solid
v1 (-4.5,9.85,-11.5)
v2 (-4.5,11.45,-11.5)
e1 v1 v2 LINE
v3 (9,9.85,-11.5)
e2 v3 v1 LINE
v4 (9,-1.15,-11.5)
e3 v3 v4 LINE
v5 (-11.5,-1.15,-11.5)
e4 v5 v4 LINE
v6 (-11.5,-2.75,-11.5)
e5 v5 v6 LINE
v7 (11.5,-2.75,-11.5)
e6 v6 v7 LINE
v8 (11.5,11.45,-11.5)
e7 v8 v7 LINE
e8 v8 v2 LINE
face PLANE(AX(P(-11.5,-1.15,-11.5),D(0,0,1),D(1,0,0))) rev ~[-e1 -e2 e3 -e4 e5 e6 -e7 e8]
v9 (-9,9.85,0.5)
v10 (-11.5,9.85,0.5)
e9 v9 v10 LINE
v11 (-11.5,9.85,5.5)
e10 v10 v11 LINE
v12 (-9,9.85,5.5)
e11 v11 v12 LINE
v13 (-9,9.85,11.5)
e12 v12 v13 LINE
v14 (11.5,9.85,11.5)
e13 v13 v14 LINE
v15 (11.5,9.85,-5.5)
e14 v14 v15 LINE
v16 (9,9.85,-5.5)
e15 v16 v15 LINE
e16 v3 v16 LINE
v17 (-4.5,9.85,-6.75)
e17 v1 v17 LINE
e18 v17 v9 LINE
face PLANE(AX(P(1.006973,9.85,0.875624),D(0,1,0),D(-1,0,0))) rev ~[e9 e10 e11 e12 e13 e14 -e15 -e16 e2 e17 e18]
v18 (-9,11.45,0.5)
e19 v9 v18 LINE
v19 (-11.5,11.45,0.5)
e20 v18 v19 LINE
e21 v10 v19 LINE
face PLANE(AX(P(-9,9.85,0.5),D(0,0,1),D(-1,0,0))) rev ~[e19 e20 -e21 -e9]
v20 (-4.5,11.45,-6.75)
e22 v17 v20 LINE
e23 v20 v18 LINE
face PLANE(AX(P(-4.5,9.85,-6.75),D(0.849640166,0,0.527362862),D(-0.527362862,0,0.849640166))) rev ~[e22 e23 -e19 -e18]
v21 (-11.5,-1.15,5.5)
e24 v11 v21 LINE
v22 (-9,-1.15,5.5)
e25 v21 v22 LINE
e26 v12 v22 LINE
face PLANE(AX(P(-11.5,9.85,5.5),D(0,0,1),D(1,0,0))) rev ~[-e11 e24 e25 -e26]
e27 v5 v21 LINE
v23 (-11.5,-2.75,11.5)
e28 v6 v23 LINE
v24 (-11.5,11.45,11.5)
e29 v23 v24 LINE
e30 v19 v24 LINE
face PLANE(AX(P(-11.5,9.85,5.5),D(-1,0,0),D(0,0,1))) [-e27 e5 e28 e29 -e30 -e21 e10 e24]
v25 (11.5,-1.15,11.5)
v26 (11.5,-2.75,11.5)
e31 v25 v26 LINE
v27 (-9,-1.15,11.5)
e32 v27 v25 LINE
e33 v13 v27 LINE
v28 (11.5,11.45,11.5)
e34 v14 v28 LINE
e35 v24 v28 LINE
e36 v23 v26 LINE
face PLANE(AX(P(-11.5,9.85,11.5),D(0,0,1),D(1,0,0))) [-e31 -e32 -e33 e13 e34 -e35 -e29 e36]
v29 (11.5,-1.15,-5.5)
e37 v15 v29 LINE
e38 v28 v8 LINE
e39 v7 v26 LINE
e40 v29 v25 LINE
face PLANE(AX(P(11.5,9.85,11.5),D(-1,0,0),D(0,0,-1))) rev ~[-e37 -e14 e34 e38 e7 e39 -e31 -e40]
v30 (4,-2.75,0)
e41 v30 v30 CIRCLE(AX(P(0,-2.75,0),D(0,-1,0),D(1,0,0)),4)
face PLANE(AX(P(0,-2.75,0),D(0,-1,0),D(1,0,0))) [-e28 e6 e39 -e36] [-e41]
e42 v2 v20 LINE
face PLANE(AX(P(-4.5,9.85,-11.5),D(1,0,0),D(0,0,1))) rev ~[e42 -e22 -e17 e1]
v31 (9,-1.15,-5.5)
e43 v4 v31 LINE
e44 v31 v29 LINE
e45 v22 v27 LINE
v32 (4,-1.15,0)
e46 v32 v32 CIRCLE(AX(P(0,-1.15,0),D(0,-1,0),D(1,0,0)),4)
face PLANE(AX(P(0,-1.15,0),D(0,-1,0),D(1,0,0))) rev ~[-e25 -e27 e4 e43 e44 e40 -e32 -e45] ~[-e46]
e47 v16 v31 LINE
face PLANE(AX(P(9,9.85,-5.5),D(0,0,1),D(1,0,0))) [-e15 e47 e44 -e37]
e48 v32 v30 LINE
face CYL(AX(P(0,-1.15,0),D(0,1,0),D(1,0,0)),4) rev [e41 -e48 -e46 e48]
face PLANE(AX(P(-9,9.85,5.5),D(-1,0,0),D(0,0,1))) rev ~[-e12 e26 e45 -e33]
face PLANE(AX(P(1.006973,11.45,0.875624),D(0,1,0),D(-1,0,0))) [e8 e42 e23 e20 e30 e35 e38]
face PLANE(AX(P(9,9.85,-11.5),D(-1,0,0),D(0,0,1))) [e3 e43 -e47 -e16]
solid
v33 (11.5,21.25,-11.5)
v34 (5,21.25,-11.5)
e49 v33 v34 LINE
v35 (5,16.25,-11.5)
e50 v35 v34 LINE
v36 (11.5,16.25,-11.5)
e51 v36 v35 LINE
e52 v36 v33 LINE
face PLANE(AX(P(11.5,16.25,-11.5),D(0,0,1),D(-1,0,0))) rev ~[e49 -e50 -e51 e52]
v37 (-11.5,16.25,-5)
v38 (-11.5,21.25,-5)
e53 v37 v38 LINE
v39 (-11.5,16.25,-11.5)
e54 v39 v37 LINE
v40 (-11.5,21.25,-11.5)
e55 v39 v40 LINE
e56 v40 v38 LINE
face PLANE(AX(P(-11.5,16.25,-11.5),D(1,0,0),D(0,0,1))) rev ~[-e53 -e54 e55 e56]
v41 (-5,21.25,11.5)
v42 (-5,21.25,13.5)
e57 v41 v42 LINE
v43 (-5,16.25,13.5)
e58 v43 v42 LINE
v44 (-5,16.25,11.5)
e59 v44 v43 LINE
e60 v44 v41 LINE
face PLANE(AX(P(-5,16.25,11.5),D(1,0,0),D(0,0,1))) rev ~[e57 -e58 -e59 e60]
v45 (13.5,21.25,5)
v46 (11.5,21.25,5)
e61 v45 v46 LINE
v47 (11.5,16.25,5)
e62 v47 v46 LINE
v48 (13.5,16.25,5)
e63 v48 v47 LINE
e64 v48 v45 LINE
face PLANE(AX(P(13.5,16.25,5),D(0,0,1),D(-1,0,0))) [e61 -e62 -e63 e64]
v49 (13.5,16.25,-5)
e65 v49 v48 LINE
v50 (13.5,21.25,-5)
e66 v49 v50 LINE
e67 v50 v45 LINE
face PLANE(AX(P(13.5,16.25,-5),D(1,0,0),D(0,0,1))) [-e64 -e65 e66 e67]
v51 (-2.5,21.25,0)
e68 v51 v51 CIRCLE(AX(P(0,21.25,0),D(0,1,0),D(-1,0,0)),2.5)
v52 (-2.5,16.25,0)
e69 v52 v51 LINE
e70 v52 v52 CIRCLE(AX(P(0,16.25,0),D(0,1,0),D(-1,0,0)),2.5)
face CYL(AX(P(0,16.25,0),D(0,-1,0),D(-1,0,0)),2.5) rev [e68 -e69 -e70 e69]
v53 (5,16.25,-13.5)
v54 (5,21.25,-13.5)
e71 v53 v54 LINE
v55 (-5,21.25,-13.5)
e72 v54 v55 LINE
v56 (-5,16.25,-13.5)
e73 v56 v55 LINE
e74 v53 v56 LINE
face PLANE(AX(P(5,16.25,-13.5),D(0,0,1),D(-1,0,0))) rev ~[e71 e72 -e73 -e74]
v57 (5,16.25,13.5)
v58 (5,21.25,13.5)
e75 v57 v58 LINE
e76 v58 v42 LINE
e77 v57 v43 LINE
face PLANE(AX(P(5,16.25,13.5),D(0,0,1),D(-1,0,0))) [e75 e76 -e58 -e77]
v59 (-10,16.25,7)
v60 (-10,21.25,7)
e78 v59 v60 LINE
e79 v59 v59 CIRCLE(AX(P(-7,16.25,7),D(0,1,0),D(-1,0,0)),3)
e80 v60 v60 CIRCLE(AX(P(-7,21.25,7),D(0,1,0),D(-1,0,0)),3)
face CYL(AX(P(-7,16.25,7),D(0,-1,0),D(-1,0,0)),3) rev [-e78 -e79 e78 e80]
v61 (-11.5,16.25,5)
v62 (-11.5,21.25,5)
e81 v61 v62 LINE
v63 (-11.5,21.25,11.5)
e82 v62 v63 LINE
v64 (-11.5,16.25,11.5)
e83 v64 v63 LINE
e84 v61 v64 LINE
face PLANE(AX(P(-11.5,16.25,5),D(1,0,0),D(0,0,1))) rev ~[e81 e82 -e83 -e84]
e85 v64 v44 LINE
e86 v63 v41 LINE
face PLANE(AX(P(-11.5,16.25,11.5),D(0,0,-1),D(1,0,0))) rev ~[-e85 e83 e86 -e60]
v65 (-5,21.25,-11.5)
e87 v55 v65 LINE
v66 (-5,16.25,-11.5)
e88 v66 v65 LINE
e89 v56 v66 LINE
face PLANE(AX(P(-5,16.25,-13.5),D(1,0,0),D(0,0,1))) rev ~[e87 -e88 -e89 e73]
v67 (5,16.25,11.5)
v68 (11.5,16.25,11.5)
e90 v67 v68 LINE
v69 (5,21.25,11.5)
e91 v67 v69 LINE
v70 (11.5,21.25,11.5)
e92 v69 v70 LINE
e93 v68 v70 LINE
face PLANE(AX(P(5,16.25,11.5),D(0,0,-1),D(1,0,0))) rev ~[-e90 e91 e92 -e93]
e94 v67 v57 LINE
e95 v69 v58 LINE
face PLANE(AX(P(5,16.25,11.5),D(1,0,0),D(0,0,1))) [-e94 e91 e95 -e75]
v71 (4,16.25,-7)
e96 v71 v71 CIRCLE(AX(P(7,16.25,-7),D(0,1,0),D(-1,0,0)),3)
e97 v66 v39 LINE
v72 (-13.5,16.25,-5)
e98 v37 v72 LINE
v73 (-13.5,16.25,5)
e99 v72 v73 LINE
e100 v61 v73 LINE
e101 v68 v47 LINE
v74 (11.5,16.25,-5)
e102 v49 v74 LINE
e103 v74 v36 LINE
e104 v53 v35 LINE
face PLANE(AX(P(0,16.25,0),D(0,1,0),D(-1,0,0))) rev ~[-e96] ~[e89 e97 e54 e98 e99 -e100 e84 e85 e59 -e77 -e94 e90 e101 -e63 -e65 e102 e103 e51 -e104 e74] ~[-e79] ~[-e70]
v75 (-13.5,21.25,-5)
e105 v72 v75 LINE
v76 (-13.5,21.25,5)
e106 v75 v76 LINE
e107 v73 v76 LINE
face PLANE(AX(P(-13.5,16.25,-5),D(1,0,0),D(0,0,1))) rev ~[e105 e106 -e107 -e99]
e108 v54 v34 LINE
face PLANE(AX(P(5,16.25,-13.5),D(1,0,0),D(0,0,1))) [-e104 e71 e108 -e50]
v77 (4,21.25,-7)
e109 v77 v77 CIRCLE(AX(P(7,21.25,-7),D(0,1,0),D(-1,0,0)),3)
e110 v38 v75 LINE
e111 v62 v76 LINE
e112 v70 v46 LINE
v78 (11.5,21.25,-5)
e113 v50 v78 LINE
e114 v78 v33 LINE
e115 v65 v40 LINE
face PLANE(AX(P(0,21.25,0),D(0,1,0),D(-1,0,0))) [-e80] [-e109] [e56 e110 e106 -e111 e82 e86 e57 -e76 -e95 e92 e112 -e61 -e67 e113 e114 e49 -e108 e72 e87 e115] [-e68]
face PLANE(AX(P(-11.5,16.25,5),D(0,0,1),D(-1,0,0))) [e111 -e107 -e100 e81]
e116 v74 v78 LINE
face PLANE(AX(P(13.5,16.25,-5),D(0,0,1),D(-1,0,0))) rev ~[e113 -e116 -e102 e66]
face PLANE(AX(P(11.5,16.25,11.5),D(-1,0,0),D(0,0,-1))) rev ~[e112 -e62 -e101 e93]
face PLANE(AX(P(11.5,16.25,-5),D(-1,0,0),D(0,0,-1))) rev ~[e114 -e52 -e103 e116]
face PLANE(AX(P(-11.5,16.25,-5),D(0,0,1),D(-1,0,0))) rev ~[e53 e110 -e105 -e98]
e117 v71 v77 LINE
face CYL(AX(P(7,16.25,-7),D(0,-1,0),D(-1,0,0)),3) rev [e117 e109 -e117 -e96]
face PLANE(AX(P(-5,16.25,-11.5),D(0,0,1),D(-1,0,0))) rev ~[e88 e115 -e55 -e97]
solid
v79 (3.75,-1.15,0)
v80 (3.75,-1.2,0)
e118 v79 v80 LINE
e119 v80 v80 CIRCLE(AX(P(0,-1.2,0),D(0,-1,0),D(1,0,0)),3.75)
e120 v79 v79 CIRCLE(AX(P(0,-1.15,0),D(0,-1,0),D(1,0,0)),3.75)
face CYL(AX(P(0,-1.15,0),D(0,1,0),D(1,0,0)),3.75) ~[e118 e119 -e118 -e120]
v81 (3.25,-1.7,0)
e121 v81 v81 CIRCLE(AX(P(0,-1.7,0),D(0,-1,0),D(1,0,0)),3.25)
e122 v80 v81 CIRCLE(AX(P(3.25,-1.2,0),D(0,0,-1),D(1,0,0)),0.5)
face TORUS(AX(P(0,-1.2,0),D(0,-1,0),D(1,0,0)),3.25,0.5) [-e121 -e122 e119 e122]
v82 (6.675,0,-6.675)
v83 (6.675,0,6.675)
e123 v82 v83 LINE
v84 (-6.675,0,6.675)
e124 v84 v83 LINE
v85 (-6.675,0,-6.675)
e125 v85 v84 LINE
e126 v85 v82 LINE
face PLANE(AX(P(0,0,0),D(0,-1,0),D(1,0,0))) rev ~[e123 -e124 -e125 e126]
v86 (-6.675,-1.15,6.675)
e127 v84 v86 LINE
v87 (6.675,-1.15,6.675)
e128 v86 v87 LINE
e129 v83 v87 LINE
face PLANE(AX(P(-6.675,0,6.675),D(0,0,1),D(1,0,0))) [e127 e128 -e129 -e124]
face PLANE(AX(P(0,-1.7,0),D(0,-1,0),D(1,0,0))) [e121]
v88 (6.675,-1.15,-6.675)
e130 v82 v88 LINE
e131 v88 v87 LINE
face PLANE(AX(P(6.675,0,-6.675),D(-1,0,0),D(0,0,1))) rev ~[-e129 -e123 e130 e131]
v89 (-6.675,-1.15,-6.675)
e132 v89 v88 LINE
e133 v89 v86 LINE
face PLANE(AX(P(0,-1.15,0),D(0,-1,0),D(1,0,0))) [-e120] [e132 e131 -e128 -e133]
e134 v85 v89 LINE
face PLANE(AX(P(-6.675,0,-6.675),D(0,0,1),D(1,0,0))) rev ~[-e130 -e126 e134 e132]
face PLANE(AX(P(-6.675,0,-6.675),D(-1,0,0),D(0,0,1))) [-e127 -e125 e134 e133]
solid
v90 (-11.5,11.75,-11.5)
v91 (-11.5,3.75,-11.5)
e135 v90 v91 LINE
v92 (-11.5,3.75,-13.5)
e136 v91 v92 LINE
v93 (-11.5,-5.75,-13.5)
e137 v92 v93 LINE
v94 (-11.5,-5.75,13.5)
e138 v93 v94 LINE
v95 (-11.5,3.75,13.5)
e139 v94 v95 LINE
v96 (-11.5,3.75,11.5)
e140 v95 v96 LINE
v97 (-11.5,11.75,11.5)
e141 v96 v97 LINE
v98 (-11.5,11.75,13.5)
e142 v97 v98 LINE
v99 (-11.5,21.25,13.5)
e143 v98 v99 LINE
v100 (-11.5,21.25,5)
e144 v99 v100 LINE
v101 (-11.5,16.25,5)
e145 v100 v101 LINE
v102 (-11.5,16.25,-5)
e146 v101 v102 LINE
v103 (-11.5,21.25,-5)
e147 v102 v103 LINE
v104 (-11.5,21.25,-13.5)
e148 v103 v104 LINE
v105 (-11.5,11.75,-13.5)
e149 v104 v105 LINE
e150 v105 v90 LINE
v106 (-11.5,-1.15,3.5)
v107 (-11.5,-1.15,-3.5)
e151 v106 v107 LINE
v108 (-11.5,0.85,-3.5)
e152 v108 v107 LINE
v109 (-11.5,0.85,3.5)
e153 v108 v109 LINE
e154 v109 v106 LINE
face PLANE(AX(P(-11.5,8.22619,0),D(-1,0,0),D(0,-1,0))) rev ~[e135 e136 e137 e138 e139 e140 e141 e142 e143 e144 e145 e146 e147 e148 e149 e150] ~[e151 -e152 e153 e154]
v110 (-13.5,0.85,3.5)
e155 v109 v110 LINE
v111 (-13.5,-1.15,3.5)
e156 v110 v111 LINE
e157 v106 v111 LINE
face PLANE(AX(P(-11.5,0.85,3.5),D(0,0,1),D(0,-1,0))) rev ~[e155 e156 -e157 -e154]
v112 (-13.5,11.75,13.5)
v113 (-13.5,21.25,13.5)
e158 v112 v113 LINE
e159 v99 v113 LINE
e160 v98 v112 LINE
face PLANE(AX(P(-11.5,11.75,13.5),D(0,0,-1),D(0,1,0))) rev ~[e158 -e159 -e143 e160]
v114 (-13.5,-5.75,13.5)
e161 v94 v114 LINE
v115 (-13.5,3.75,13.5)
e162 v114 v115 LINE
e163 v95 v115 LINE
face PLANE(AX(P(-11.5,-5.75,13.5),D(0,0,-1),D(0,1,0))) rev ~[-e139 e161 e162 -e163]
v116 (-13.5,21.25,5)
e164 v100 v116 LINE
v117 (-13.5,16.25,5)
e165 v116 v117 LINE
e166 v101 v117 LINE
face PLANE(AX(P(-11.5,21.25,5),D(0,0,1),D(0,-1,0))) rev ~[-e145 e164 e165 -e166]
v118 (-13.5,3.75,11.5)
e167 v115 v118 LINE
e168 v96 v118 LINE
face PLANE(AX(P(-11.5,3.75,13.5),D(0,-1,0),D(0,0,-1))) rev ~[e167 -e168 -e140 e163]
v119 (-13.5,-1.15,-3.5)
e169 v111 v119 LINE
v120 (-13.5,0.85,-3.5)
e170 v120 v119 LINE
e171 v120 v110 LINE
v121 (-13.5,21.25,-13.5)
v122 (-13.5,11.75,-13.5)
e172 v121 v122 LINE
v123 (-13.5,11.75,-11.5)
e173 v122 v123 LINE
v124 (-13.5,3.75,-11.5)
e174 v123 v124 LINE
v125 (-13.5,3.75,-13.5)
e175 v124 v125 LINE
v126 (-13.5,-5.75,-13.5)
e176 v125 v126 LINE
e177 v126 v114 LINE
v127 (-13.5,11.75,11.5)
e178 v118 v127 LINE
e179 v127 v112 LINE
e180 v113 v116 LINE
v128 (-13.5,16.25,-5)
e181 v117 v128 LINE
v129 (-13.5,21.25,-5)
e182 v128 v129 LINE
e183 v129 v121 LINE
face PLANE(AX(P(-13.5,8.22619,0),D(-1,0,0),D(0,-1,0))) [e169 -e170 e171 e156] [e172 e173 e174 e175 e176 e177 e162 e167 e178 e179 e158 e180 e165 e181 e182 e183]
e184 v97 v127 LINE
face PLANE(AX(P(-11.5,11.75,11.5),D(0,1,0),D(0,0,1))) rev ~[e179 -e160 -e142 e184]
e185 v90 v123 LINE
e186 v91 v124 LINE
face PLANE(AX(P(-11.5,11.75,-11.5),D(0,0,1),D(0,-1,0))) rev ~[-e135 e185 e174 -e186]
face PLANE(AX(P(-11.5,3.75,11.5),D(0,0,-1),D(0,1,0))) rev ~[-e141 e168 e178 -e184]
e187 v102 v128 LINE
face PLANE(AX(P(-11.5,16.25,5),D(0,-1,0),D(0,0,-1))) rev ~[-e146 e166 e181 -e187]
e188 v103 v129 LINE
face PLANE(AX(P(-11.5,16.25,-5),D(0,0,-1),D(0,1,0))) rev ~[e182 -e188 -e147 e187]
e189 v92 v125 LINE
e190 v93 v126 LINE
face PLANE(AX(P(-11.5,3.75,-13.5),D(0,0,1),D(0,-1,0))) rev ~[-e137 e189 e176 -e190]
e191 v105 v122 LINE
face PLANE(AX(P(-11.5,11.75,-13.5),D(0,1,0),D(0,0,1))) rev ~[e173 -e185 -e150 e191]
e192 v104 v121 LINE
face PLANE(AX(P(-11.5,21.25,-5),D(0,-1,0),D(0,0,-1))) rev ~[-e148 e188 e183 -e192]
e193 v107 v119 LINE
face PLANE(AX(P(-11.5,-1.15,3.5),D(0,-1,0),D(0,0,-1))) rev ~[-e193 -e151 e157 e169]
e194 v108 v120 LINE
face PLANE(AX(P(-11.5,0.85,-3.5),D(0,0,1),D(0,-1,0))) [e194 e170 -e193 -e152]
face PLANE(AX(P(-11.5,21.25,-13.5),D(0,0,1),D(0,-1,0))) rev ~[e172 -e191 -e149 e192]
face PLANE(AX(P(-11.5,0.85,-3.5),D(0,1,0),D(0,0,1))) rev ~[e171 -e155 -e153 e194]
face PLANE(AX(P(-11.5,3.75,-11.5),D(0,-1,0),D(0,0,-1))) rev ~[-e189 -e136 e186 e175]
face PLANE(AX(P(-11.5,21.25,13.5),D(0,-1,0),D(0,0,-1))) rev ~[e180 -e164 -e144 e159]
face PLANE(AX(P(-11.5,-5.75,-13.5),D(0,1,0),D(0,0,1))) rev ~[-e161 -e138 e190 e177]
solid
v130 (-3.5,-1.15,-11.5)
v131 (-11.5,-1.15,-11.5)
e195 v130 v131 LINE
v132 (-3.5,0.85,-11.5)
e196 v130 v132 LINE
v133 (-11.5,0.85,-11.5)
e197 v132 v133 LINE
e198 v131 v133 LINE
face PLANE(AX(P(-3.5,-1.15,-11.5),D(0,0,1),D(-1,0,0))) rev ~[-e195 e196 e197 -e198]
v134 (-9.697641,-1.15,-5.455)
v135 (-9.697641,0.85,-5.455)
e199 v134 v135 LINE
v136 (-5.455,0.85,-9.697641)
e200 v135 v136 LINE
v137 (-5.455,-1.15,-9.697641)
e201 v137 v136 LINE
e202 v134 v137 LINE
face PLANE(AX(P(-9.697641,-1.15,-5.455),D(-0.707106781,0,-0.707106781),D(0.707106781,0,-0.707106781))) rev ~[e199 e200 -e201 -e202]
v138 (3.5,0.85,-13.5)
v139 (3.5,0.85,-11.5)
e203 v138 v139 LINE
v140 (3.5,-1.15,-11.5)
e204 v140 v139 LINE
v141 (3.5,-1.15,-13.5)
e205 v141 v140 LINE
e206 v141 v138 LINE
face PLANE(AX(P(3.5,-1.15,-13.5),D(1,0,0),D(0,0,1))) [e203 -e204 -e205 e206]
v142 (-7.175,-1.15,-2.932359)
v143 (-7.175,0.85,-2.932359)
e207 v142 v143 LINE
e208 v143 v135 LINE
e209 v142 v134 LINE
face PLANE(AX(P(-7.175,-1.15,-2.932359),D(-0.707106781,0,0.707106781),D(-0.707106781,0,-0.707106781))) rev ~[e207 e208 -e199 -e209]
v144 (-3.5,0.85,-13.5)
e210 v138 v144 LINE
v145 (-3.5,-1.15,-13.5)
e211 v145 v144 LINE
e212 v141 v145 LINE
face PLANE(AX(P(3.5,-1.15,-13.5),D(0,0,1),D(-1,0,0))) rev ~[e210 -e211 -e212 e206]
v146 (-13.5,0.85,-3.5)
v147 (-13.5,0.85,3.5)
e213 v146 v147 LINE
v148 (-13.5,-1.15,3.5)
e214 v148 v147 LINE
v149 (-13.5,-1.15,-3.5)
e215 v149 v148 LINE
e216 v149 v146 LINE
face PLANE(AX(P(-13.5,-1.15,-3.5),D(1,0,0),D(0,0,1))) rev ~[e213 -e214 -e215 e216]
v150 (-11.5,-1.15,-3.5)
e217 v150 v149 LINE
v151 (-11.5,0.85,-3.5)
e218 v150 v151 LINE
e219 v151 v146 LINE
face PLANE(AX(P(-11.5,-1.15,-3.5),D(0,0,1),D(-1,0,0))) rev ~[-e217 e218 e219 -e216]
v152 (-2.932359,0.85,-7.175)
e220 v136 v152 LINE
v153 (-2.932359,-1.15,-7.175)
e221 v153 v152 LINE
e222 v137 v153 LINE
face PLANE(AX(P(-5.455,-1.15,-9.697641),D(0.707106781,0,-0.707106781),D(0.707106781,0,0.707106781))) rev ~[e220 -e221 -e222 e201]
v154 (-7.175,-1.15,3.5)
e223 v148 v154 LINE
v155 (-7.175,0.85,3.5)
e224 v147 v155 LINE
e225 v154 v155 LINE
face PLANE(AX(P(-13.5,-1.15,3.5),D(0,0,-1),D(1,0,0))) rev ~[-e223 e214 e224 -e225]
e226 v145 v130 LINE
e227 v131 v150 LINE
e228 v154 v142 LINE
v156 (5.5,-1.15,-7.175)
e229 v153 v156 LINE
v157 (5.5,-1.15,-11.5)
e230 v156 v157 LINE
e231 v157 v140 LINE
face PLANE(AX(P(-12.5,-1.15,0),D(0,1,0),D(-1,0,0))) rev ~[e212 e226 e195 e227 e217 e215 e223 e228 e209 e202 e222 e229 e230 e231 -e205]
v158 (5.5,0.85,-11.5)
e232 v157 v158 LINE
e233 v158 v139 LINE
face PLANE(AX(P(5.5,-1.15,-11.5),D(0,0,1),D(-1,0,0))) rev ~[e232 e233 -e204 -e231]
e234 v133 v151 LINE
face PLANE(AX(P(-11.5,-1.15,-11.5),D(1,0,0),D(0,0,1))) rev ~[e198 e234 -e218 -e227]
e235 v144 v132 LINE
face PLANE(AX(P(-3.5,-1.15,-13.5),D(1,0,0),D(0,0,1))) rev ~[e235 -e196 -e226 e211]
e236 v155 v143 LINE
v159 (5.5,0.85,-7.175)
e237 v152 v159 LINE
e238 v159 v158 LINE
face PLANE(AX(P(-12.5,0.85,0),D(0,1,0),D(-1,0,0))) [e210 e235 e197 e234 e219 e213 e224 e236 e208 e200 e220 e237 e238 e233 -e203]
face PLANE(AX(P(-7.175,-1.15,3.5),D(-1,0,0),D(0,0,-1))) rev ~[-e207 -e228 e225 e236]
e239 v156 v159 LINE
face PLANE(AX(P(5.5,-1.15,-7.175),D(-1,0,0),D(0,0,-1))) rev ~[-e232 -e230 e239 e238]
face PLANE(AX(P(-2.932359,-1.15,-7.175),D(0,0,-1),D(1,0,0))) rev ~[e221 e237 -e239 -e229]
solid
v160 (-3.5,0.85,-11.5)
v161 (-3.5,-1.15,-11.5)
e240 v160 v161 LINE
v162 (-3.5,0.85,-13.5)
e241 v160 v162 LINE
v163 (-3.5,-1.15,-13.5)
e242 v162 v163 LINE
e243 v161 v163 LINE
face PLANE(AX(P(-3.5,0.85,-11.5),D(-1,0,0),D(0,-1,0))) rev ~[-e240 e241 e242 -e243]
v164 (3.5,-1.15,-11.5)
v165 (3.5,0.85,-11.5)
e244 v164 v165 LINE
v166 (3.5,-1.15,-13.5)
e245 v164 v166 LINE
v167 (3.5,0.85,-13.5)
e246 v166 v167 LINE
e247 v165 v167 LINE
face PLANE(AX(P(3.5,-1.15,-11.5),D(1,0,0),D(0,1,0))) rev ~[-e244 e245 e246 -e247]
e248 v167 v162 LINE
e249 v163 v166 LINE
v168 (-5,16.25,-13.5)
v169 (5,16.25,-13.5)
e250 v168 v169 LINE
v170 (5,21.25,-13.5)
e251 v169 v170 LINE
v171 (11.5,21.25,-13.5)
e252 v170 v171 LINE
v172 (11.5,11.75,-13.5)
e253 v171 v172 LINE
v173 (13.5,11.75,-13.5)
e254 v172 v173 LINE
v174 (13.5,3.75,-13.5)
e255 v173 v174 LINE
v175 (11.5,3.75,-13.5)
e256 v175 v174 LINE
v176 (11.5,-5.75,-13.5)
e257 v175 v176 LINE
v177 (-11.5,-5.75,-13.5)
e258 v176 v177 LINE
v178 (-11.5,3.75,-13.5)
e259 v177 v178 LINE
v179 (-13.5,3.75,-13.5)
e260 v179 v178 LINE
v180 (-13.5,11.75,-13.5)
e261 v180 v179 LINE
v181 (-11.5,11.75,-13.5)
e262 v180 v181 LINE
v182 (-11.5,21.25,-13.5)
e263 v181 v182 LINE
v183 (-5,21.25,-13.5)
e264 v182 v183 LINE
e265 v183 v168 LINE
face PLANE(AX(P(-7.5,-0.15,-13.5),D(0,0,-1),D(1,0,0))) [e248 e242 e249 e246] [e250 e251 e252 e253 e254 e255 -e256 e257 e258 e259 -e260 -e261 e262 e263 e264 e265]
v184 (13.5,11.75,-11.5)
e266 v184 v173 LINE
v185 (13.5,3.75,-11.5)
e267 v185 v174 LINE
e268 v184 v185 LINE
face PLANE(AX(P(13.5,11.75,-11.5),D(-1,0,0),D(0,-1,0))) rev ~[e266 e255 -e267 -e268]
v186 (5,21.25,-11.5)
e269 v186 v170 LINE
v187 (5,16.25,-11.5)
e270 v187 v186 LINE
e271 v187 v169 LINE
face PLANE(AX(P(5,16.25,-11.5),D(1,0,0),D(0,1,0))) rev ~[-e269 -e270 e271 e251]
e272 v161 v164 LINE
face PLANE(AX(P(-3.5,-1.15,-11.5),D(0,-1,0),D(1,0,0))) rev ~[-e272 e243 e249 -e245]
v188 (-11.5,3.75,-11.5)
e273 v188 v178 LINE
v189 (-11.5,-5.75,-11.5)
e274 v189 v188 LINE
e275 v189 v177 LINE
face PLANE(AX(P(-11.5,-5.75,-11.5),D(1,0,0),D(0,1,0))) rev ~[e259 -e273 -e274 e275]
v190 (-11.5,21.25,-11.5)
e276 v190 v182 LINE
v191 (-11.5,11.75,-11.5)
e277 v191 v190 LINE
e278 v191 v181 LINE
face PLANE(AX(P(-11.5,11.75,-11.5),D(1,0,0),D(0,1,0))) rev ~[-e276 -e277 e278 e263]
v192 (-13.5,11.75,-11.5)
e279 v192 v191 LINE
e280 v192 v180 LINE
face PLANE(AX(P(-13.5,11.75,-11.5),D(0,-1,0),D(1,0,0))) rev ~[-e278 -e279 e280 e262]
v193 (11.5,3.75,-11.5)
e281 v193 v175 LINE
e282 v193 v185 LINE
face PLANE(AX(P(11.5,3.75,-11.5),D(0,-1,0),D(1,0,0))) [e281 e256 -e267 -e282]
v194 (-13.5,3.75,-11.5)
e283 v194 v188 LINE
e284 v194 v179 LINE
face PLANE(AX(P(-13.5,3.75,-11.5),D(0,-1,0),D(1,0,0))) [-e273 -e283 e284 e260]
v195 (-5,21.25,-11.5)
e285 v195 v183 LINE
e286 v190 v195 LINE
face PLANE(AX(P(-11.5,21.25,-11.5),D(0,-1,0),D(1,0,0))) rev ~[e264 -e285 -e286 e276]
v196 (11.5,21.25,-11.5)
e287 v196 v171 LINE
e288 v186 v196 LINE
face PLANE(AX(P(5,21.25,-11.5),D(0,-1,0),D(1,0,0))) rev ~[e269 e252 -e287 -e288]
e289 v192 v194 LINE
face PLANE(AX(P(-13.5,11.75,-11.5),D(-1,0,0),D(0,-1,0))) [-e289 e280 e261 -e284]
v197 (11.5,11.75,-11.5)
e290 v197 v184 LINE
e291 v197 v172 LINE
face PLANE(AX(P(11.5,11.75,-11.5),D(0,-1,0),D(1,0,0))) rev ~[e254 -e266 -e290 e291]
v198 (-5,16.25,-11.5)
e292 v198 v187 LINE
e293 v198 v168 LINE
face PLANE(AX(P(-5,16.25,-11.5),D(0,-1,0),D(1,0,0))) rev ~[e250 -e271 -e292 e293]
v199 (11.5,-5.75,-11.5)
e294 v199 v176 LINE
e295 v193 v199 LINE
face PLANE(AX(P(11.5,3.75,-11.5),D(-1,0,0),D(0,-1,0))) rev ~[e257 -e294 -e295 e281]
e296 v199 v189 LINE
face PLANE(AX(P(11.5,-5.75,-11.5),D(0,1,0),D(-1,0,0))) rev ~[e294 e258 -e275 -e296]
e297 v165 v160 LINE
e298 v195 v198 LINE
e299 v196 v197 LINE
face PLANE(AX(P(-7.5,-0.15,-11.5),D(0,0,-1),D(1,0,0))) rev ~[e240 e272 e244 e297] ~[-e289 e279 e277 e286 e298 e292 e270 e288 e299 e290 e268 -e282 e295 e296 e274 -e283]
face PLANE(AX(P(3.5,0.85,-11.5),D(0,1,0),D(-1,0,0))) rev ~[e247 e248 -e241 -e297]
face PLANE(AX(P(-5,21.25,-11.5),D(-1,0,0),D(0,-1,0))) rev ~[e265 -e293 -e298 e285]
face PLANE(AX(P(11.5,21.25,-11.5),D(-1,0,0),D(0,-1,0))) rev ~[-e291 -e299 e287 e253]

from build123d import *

# Parameters (mm, degrees)
F0_W      = 13.35
F0_H      = 13.35
F1_DEPTH  = 1.15
F2_R      = 3.75
F3_DEPTH  = 0.55
F4_R      = 0.5
F5_W      = 23
F5_H      = 23
F5_R      = 4
F6_DEPTH  = 1.6
F9_DEPTH  = 1.6
F10_W     = 2.5
F10_H     = 6
F11_DEPTH = 11
F12_W     = 2
F12_H     = 7
F12_W_2   = 7
F12_H_2   = 2
F13_DEPTH = 2
F14_W     = 8
F14_H     = 2
F14_W_2   = 2
F14_H_2   = 8
F15_DEPTH = 2
F16_W     = 2
F16_H     = 8
F17_DEPTH = 2
F18_R     = 3
F18_R_2   = 2.5
F18_W     = 2
F18_H     = 10
F18_W_2   = 10
F18_H_2   = 2
F19_DEPTH = 5


with BuildPart() as f1:
    # F0 (on Front) → F1 (new body)
    with BuildSketch(Plane.XZ):
        Rectangle(F0_W, F0_H)
    extrude(amount=F1_DEPTH)

    # F2 (on face) → F3 (join)
    with BuildSketch(Plane.XZ.offset(1.15)):
        Circle(F2_R)
    extrude(amount=F3_DEPTH)

    # F4
    f4_edges = [f1.edges().sort_by_distance(p)[0] for p in [
        (-3.75, -1.7, 0),
    ]]
    fillet(f4_edges, radius=F4_R)


with BuildPart() as f6:
    # F5 (on face) → F6 (new body)
    with BuildSketch(Plane.XZ.offset(1.15)):
        Rectangle(F5_W, F5_H)
        Circle(F5_R, mode=Mode.SUBTRACT)
    extrude(amount=F6_DEPTH)



with BuildPart() as f9:
    # F8 (on offset) → F9 (new body)
    with BuildSketch(Plane(origin=(0, 9.85, 0), x_dir=(-1, 0, 0), z_dir=(0, 1, 0))):
        Polygon((11.5, 0.5), (11.5, 11.5), (-11.5, 11.5), (-11.5, -11.5), (4.5, -11.5), (4.5, -6.75), (9, 0.5), align=None)
    extrude(amount=F9_DEPTH)


with BuildPart() as f6_1:
    add(f6.part)

    add(f9.part)  # F11 merges F9
    # F10 (on face) → F11 (join, through all)
    with BuildSketch(Plane.XZ.offset(-9.85)):
        with Locations((-10.25, 8.5)):
            Rectangle(F10_W, F10_H)
        with Locations((10.25, -8.5)):
            Rectangle(F10_W, F10_H)
    extrude(amount=F11_DEPTH)


with BuildPart() as f13:
    # F12 (on face) → F13 (new body)
    with BuildSketch(Plane(origin=(0, -1.15, 0), x_dir=(-1, 0, 0), z_dir=(0, 1, 0))):
        with Locations((12.5, 0)):
            Rectangle(F12_W, F12_H)
        Polygon((11.5, -11.5), (11.5, -3.5), (11.5, 3.5), (7.175, 3.5), (7.175, -2.9323593129), (9.6976406871, -5.455), (5.455, -9.6976406871), (2.9323593129, -7.175), (-5.5, -7.175), (-5.5, -11.5), (-3.5, -11.5), (3.5, -11.5), align=None)
        with Locations((0, -12.5)):
            Rectangle(F12_W_2, F12_H_2)
    extrude(amount=F13_DEPTH)


with BuildPart() as f15:
    # F14 (on face) → F15 (new body)
    with BuildSketch(Plane(origin=(0, 0, -11.5), x_dir=(1, 0, 0), z_dir=(0, 0, -1))):
        with Locations((-7.5, 0.15)):
            Rectangle(F14_W, F14_H)
        Polygon((11.5, 5.75), (-11.5, 5.75), (-11.5, 1.15), (-3.5, 1.15), (3.5, 1.15), (3.5, -0.85), (-3.5, -0.85), (-11.5, -0.85), (-11.5, -3.75), (-11.5, -11.75), (-11.5, -21.25), (-5, -21.25), (-5, -16.25), (5, -16.25), (5, -21.25), (11.5, -21.25), (11.5, -11.75), (11.5, -3.75), align=None)
        with Locations((-12.5, -7.75)):
            Rectangle(F14_W_2, F14_H_2)
        with Locations((12.5, -7.75)):
            Rectangle(F14_W_2, F14_H_2)
    extrude(amount=F15_DEPTH)


with BuildPart() as f17:
    # F16 (on face) → F17 (new body)
    with BuildSketch(Plane(origin=(-11.5, 0, 0), x_dir=(0, -1, 0), z_dir=(-1, 0, 0))):
        Polygon((-3.75, -13.5), (5.75, -13.5), (5.75, 13.5), (-3.75, 13.5), (-3.75, 11.5), (-11.75, 11.5), (-11.75, 13.5), (-21.25, 13.5), (-21.25, 5), (-16.25, 5), (-16.25, -5), (-21.25, -5), (-21.25, -13.5), (-11.75, -13.5), (-11.75, -11.5), (-3.75, -11.5), align=None)
        Polygon((1.15, 3.5), (1.15, -3.5), (1.15, -11.5), (-0.85, -11.5), (-0.85, -3.5), (-0.85, 3.5), align=None, mode=Mode.SUBTRACT)
        with Locations((0.15, -7.5)):
            Rectangle(F16_W, F16_H)
    extrude(amount=F17_DEPTH)


with BuildPart() as f19:
    # F18 (on face) → F19 (new body)
    with BuildSketch(Plane(origin=(0, 16.25, 0), x_dir=(-1, 0, 0), z_dir=(0, 1, 0))):
        Polygon((-5, 11.5), (-11.5, 11.5), (-11.5, 5), (-11.5, -5), (-11.5, -11.5), (-5, -11.5), (5, -11.5), (11.5, -11.5), (11.5, -5), (11.5, 5), (11.5, 11.5), (5, 11.5), align=None)
        with Locations((-7, -7)):
            Circle(F18_R, mode=Mode.SUBTRACT)
        Circle(F18_R_2, mode=Mode.SUBTRACT)
        with Locations((7, 7)):
            Circle(F18_R, mode=Mode.SUBTRACT)
        with Locations((-12.5, 0)):
            Rectangle(F18_W, F18_H)
        with Locations((0, -12.5)):
            Rectangle(F18_W_2, F18_H_2)
        with Locations((0, 12.5)):
            Rectangle(F18_W_2, F18_H_2)
        with Locations((12.5, 0)):
            Rectangle(F18_W, F18_H)
    extrude(amount=F19_DEPTH)


solid = Compound([f1.part, f6_1.part, f13.part, f15.part, f17.part, f19.part])
